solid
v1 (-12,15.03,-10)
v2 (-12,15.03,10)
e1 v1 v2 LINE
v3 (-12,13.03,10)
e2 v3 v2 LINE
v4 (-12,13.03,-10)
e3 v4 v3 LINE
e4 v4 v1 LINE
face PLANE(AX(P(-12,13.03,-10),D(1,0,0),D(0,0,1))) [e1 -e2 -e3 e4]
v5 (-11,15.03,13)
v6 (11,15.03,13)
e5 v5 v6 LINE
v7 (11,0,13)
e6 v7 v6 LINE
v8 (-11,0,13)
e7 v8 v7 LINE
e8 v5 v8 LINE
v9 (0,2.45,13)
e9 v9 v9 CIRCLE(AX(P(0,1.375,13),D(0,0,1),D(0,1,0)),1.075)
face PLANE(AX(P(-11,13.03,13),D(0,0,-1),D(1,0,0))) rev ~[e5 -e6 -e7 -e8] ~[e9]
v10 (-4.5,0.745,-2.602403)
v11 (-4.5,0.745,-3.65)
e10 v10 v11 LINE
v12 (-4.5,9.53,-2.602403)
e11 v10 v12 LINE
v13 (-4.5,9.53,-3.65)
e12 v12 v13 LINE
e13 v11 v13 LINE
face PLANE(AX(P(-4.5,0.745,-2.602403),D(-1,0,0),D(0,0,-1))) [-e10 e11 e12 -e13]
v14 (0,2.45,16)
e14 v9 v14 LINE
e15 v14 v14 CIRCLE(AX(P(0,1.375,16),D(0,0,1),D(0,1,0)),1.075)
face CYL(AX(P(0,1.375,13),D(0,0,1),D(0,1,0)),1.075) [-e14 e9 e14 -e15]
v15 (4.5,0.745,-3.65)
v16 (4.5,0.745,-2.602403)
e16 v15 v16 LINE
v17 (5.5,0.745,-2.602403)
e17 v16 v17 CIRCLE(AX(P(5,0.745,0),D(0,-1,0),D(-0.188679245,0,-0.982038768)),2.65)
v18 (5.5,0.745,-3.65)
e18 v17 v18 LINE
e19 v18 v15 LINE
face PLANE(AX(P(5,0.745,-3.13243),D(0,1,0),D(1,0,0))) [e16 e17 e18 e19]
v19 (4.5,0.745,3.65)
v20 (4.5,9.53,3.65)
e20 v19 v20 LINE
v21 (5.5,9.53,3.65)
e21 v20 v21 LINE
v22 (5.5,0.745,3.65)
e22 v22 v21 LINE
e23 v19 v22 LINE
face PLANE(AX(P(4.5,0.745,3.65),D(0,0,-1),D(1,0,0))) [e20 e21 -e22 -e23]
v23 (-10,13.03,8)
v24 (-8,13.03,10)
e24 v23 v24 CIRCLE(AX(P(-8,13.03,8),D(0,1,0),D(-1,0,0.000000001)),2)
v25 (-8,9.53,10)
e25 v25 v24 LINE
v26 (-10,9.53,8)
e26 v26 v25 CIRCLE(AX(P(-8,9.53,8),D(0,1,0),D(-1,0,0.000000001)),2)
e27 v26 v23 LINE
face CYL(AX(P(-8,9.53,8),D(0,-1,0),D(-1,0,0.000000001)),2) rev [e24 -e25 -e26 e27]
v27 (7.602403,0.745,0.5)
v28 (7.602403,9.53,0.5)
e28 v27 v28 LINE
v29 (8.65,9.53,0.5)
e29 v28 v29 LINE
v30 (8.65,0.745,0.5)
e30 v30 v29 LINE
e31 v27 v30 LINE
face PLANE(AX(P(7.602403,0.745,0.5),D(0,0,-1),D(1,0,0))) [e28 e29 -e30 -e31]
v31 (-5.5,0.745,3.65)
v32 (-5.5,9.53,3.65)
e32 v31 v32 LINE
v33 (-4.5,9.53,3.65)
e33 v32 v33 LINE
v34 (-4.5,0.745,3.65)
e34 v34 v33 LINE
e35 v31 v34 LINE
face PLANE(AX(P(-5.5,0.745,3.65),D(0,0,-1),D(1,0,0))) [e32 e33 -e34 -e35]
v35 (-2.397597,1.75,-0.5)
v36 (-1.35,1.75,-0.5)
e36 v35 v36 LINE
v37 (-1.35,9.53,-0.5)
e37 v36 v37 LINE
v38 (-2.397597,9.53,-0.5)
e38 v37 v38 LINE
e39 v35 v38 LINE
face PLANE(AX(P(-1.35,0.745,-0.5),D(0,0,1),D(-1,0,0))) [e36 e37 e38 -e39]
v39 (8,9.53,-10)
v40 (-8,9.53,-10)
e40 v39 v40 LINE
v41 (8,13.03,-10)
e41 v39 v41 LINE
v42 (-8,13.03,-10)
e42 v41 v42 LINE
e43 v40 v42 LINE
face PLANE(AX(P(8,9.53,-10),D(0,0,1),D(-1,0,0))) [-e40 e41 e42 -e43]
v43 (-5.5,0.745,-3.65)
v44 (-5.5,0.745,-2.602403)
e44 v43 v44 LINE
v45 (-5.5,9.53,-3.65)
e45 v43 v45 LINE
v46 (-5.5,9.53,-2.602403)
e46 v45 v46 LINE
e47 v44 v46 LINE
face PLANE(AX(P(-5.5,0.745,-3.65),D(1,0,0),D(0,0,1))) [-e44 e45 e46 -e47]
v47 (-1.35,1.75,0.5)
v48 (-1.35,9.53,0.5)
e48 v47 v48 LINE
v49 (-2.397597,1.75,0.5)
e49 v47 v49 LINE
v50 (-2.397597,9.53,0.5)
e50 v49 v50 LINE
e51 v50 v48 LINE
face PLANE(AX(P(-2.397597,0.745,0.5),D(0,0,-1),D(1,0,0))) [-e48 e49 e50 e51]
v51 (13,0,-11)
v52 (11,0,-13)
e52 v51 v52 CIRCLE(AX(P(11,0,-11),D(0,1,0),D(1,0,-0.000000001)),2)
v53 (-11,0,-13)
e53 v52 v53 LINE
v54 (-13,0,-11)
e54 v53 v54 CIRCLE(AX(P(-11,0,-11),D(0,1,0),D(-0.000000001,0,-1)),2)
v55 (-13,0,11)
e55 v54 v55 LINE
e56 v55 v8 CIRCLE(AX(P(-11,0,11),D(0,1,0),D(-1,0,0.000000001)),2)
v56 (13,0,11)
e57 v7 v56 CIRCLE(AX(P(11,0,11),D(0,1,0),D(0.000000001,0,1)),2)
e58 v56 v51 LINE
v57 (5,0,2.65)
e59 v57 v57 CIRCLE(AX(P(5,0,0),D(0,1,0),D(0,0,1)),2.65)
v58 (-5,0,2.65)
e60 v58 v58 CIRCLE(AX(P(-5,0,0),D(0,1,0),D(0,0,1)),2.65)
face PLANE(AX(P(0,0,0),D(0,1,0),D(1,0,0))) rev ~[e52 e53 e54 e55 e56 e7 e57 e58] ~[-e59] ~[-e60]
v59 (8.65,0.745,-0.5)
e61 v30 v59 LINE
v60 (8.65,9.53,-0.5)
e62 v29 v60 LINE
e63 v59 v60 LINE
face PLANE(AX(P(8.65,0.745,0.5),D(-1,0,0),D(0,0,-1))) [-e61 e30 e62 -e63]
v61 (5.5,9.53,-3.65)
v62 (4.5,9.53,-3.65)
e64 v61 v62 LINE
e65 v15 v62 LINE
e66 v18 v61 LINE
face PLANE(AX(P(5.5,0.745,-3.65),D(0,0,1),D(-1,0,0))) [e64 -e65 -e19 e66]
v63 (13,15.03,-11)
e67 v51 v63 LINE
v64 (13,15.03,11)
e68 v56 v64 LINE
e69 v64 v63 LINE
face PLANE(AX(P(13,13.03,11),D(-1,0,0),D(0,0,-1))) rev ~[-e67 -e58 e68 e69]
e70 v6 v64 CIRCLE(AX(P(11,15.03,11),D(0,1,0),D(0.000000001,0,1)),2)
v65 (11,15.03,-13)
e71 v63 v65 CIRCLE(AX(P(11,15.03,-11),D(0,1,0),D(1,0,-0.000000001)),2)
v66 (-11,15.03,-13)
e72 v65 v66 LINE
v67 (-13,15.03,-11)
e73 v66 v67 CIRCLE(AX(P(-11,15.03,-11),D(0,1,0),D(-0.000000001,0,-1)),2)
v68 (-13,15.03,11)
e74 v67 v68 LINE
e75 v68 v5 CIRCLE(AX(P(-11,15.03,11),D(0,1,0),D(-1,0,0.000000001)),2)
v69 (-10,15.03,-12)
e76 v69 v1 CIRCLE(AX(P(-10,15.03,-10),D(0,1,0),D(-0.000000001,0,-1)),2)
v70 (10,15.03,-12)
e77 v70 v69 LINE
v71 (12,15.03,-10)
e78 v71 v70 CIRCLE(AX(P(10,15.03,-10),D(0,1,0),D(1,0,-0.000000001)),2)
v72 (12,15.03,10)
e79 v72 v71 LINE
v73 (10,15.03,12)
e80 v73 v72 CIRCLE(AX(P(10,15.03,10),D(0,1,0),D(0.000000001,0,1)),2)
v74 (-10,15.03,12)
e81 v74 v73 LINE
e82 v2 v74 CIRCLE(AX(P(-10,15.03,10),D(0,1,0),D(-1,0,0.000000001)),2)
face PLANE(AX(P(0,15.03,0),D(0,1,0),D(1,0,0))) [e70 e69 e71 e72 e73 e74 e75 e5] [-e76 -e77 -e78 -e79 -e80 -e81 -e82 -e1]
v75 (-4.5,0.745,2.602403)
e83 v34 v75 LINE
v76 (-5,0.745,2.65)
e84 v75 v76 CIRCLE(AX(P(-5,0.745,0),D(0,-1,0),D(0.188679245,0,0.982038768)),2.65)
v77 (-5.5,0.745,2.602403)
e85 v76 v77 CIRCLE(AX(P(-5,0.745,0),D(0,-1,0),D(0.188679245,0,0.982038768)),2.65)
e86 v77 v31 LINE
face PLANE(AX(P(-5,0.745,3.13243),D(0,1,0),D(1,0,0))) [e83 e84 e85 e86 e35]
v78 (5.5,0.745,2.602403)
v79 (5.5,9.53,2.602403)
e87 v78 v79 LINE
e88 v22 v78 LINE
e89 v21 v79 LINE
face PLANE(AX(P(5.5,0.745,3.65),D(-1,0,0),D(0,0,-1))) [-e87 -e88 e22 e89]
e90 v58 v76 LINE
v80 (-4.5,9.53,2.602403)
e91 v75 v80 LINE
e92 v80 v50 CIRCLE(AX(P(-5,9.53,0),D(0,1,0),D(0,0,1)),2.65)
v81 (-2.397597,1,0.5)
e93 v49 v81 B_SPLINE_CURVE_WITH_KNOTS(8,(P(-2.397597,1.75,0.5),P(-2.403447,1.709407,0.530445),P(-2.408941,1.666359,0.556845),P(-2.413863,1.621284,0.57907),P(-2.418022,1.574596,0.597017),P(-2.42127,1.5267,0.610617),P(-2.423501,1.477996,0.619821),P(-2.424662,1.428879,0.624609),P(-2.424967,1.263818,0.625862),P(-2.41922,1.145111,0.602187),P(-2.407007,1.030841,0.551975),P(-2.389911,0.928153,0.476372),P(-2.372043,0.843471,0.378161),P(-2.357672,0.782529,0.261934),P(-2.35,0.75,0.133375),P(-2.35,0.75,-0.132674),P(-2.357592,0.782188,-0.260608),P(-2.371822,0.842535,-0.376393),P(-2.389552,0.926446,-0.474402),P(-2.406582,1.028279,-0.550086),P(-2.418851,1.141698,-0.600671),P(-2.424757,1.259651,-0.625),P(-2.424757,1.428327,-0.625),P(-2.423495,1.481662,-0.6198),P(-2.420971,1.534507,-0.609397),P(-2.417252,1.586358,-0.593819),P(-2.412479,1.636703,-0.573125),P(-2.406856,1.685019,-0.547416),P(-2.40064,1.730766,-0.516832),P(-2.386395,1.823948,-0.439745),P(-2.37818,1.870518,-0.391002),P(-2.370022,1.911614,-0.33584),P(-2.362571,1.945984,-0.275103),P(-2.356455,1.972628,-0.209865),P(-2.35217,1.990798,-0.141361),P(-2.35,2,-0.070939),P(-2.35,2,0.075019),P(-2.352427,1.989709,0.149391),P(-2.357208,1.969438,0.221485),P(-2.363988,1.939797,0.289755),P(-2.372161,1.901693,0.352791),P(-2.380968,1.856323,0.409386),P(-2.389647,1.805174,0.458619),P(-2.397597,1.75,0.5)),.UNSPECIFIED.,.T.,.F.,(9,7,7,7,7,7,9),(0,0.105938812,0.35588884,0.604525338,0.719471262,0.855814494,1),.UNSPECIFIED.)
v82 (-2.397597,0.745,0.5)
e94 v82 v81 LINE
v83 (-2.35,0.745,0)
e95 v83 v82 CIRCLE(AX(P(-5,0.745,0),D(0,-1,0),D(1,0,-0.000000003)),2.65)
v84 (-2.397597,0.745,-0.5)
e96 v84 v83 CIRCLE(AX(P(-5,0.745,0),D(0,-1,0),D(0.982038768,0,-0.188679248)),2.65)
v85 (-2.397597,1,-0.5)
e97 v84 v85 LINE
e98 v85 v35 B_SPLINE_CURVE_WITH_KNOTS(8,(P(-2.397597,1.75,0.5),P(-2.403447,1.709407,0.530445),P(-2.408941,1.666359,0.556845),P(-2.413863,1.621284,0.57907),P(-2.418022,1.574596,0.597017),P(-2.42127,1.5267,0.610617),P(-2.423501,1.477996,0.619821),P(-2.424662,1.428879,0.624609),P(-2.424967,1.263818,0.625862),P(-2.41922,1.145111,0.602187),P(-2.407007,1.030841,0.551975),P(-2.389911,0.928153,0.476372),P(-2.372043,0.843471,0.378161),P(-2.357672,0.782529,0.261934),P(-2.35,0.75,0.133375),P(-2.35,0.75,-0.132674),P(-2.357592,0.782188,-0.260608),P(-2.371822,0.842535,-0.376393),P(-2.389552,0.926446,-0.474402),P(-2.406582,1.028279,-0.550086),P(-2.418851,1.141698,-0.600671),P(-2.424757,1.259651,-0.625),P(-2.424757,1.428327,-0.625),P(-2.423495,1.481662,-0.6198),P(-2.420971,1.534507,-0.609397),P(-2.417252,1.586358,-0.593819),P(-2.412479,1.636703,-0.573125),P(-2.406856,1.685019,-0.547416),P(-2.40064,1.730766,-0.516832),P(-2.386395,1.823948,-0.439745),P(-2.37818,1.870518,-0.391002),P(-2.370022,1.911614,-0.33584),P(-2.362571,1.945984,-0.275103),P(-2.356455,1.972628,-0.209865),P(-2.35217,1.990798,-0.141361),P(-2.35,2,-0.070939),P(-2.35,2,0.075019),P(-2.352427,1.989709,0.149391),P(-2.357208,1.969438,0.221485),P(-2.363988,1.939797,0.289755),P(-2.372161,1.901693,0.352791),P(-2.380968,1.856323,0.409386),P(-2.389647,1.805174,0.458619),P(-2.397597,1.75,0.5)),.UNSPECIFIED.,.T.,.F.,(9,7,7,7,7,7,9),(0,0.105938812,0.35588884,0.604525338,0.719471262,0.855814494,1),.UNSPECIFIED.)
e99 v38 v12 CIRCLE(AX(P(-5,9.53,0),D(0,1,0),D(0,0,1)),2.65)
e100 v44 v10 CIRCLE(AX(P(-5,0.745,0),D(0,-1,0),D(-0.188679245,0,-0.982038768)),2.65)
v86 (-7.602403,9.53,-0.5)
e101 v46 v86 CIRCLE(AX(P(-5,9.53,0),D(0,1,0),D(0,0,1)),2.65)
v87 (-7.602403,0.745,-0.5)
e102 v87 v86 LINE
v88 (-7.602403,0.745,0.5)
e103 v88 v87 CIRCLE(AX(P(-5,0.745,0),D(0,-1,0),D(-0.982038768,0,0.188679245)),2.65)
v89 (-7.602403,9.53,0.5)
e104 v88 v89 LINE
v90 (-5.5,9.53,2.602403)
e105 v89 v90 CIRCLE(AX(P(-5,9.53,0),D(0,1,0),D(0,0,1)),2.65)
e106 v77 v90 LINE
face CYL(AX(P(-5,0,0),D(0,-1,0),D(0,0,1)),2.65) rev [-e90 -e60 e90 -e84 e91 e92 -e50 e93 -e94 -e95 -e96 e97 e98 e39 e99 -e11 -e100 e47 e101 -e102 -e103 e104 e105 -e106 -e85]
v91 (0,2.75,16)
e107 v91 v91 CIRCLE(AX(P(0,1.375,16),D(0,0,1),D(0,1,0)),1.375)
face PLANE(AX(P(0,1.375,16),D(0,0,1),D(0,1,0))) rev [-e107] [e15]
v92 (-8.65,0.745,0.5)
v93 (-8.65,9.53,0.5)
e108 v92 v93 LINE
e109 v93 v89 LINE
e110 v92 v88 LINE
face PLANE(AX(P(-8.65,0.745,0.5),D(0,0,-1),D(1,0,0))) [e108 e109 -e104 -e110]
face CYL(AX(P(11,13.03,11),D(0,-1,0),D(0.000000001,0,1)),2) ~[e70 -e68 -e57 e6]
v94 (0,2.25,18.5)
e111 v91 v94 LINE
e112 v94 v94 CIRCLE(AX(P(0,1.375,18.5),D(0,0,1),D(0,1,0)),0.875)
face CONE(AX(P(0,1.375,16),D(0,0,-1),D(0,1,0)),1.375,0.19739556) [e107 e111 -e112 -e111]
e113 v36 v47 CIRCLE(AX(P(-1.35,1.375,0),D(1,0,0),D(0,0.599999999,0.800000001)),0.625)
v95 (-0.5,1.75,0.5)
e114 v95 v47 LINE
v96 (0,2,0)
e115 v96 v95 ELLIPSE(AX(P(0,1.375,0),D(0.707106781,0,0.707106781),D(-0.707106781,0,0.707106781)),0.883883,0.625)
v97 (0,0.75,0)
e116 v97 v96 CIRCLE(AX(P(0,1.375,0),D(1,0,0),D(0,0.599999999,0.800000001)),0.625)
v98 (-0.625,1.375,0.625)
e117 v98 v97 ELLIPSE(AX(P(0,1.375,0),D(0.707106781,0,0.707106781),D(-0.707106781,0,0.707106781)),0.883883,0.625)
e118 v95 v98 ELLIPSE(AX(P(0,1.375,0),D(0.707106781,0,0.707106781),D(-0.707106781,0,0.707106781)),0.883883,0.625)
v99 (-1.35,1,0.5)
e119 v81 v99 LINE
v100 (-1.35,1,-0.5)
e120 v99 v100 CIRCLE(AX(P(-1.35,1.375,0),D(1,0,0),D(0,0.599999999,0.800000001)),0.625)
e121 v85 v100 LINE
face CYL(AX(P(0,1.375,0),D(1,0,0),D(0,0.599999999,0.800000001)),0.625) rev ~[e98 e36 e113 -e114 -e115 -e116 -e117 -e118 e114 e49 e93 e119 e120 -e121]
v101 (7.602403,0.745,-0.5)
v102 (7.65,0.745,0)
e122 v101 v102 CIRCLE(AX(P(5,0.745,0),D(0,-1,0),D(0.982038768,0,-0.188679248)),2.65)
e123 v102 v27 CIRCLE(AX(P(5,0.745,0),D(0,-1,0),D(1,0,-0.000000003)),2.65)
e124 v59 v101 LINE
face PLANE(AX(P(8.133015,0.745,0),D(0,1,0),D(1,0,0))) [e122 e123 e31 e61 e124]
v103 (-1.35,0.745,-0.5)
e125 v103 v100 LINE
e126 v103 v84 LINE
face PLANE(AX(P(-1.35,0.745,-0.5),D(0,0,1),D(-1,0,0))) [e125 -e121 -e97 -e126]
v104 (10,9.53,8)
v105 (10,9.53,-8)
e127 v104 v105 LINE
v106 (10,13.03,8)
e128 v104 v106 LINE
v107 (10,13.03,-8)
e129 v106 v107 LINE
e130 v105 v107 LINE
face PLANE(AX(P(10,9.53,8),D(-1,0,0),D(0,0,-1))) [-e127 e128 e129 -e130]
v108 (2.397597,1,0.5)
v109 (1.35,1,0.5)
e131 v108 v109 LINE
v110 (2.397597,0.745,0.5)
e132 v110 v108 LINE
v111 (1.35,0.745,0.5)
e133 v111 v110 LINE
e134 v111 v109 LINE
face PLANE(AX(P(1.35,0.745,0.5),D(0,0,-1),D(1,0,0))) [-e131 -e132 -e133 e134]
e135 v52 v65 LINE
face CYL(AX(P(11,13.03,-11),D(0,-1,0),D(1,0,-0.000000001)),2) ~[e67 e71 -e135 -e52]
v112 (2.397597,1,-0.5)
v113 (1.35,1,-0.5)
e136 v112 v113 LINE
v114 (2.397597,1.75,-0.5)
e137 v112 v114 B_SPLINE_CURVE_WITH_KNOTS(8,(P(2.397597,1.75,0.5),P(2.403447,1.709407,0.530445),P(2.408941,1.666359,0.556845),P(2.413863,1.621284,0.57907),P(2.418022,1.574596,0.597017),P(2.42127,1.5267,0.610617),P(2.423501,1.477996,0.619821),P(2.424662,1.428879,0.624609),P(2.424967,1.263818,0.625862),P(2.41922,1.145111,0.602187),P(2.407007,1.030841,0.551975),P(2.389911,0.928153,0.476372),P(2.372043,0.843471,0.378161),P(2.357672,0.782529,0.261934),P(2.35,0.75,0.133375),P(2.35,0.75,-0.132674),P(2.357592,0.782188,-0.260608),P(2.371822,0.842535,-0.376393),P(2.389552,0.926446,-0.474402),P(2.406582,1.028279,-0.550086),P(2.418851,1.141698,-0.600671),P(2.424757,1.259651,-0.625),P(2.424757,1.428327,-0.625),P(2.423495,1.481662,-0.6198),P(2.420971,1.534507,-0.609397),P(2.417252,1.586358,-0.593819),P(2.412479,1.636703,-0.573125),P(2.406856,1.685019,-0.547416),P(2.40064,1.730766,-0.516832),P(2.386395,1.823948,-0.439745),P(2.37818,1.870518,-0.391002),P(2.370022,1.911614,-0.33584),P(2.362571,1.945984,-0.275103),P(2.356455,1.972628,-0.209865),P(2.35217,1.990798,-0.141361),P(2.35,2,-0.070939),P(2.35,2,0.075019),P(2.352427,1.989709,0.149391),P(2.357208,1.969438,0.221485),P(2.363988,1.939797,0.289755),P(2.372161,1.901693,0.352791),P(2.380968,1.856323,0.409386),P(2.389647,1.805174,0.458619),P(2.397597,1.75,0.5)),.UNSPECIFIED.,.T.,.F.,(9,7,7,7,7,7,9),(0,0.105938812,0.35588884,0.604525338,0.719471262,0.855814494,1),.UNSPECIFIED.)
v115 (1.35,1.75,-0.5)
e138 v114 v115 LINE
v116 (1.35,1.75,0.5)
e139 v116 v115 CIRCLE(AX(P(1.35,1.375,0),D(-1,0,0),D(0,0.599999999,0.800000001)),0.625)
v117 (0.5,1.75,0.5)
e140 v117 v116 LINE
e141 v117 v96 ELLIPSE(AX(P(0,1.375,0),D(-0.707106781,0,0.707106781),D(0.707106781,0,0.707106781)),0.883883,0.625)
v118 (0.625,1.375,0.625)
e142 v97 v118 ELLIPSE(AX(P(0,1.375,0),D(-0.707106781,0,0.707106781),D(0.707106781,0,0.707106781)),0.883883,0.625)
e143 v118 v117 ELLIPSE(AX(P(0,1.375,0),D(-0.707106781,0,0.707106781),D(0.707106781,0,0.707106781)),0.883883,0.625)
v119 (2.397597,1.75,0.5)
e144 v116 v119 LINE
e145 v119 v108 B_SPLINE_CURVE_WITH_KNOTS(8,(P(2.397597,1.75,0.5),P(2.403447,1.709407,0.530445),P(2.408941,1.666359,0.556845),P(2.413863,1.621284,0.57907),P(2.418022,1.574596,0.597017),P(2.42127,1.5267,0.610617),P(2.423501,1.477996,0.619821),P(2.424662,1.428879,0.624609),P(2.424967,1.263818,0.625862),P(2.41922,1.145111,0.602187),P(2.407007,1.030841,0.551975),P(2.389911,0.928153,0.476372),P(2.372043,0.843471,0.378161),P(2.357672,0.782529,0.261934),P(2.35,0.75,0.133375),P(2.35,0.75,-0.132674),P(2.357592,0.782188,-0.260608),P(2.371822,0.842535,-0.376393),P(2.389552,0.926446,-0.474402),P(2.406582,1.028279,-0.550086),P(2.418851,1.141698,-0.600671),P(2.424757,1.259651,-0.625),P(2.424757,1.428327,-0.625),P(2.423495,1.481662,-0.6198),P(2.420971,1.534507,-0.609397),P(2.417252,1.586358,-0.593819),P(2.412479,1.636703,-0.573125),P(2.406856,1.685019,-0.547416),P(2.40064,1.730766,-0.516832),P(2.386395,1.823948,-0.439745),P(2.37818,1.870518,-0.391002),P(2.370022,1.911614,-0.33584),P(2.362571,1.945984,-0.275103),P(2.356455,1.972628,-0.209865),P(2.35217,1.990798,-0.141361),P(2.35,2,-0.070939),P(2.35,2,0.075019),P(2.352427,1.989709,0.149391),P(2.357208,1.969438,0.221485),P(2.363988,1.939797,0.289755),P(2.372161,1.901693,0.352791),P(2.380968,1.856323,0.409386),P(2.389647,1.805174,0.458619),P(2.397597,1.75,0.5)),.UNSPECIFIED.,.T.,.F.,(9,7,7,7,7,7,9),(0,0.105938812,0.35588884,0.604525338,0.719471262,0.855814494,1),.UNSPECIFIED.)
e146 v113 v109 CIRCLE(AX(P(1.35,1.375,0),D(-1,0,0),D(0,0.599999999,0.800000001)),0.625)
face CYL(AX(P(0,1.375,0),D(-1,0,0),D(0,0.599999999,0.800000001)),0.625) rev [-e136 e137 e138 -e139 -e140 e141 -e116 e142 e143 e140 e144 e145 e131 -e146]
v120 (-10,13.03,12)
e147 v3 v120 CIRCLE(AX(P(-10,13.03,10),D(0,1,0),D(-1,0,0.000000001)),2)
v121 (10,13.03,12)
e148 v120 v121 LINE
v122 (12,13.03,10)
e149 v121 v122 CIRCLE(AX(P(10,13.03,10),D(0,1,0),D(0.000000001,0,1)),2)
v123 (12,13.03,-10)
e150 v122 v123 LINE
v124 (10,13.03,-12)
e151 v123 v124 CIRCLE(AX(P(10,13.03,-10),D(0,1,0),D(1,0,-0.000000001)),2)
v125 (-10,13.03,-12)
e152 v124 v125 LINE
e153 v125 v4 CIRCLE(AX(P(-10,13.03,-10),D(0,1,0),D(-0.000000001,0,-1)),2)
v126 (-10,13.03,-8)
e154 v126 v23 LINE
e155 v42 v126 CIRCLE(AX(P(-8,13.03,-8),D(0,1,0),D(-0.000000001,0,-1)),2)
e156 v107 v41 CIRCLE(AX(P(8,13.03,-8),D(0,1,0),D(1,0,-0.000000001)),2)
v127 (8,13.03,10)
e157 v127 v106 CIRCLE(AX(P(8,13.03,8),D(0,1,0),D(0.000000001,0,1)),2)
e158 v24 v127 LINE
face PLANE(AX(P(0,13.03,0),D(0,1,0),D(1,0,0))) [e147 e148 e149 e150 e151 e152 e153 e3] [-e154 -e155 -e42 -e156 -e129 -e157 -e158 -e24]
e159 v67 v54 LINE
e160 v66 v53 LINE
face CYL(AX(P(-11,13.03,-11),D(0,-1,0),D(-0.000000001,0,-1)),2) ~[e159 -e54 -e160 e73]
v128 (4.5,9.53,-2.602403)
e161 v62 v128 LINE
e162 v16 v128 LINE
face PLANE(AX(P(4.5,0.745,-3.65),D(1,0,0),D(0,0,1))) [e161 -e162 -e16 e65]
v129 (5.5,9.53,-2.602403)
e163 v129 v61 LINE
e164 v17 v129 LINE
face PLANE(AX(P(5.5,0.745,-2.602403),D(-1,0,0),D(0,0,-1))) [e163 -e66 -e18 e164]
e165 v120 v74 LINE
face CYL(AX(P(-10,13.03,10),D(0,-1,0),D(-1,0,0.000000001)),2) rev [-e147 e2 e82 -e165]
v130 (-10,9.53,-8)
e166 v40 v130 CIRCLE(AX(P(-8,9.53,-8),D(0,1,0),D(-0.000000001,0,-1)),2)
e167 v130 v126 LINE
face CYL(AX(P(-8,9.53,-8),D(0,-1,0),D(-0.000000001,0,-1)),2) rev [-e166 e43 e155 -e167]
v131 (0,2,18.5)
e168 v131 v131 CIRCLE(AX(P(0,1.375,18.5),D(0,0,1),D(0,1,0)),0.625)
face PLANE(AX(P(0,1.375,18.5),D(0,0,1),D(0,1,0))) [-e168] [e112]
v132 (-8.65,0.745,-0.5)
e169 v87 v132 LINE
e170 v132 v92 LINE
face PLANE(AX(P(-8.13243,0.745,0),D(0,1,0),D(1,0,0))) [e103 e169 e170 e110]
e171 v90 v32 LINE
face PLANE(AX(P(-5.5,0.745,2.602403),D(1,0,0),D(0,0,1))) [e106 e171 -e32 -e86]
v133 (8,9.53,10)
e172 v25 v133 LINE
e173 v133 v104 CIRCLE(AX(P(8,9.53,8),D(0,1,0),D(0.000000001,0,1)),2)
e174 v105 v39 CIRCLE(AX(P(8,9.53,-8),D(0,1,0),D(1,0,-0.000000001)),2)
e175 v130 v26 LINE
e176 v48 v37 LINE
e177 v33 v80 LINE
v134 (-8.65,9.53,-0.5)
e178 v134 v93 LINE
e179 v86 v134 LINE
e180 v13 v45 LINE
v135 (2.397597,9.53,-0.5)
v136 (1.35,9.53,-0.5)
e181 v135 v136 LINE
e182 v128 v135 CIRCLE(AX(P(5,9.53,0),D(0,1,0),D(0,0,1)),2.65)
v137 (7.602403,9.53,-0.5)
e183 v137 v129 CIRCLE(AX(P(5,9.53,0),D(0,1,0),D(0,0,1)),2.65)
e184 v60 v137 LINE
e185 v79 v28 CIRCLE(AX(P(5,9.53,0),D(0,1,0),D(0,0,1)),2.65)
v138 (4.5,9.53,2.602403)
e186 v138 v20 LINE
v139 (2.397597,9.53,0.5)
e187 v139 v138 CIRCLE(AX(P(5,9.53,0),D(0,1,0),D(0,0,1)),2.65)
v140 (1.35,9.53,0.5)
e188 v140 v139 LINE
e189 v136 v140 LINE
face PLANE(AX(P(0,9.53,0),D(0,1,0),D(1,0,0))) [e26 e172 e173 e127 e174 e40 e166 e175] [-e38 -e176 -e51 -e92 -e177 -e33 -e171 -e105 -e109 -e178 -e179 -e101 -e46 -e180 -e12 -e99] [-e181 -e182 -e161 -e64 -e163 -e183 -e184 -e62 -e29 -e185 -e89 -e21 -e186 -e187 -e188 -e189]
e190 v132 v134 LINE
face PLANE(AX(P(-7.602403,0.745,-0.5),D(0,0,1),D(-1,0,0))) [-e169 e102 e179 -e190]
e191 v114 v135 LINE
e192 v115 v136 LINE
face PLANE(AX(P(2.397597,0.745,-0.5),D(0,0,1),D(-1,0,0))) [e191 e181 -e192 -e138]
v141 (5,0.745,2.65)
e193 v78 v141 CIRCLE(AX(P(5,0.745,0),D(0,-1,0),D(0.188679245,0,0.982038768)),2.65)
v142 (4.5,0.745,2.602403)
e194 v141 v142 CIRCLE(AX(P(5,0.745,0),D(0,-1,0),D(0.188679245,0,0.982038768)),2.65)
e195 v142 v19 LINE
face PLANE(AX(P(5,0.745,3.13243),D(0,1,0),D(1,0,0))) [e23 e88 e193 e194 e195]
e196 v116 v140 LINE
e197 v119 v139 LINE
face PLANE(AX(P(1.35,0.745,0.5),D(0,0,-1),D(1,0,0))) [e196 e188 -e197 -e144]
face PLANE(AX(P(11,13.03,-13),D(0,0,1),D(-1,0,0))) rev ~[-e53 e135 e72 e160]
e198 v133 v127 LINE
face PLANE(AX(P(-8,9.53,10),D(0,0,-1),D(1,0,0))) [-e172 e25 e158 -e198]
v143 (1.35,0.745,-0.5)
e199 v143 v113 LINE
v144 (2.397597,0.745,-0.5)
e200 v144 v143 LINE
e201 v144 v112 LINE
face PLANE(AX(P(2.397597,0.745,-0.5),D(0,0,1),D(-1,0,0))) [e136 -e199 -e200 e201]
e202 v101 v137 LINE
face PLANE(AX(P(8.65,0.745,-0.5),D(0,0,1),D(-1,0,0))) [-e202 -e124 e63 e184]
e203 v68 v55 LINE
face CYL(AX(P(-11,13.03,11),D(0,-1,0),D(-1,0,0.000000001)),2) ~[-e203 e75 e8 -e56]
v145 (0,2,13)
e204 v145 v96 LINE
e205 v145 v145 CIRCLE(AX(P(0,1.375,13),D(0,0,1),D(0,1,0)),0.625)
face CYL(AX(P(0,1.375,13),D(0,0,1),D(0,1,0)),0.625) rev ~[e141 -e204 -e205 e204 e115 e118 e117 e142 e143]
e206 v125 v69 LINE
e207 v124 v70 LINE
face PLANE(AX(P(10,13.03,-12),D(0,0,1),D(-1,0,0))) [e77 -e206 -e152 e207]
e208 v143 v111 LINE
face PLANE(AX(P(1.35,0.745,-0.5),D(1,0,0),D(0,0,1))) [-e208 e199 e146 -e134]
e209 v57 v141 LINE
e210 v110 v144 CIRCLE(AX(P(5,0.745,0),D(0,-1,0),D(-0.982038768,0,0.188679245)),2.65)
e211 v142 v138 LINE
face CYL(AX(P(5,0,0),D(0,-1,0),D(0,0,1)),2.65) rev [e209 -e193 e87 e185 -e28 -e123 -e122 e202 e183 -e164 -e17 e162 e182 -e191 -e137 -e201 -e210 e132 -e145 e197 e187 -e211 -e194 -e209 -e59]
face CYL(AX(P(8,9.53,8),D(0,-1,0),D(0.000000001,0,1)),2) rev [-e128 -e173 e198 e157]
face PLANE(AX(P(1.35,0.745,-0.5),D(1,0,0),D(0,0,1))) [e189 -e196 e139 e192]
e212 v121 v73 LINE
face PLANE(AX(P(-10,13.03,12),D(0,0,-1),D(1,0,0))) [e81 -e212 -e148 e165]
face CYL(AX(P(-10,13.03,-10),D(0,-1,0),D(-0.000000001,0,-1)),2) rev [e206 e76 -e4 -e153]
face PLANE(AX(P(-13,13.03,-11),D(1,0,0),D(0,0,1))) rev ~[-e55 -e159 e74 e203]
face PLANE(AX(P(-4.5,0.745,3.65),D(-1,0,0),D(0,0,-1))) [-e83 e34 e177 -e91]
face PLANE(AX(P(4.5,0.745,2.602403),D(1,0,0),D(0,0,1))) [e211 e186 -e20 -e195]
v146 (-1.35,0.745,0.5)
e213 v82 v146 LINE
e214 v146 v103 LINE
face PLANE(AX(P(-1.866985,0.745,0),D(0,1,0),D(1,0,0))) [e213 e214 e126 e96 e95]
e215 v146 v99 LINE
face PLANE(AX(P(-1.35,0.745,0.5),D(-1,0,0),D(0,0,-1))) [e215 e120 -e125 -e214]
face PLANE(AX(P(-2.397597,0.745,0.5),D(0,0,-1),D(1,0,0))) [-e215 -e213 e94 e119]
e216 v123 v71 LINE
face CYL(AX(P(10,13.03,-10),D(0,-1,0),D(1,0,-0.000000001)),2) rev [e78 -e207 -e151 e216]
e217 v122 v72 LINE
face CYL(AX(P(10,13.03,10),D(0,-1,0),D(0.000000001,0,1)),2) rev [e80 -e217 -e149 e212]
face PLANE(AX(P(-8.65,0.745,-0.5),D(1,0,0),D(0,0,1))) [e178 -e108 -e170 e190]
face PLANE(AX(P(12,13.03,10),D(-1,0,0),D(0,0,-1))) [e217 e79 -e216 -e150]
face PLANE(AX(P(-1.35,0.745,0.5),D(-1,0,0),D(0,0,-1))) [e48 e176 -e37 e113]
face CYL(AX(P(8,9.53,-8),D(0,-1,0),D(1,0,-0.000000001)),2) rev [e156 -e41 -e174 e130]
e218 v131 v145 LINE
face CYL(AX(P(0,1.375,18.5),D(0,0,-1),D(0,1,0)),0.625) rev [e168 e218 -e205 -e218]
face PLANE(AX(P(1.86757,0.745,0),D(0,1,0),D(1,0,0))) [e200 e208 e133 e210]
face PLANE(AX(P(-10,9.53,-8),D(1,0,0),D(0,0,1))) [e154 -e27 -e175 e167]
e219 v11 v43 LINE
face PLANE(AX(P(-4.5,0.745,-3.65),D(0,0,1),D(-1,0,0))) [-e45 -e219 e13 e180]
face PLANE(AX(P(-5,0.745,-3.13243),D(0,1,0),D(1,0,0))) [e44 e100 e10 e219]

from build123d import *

# Parameters (mm, degrees)
SKETCH1_R                      = 2.65
BOSS_EXTRUDE1_DEPTH            = 9.53
CUT_EXTRUDE1_START             = -8.785
CUT_EXTRUDE1_DEPTH             = 8.785
CUT_EXTRUDE3_REACH             = 26.537
SKETCH10_R                     = 0.625
CUT_EXTRUDE3_DIRECTION_2_REACH = 26.537
CUT_EXTRUDE2_REACH             = 32.591
SKETCH5_R                      = 0.625
BOSS_EXTRUDE2_DEPTH            = 3.5
BOSS_EXTRUDE3_DEPTH            = 2


with BuildPart() as part:
    # Sketch1 → Boss-Extrude1 (new body)
    with BuildSketch(Plane(origin=(0, 0, 0), x_dir=(1, 0, 0), z_dir=(0, 1, 0))):
        with BuildLine():
            Line((-11, -13), (11, -13))
            ThreePointArc((11, -13), (12.414213562, -12.414213562), (13, -11))
            Line((13, -11), (13, 11))
            ThreePointArc((13, 11), (12.414213562, 12.414213562), (11, 13))
            Line((11, 13), (-11, 13))
            ThreePointArc((-11, 13), (-12.414213562, 12.414213562), (-13, 11))
            Line((-13, 11), (-13, -11))
            ThreePointArc((-13, -11), (-12.414213562, -12.414213562), (-11, -13))
        make_face()
        with Locations(Location((5, 0, 0), (0, 0, 270))):
            Circle(SKETCH1_R, mode=Mode.SUBTRACT)
        with Locations(Location((-5, 0, 0), (0, 0, 270))):
            Circle(SKETCH1_R, mode=Mode.SUBTRACT)
    extrude(amount=BOSS_EXTRUDE1_DEPTH)

    # Sketch2 → Cut-Extrude1 (cut)
    with BuildSketch(Plane(origin=(0, 9.53, 0), x_dir=(1, 0, 0), z_dir=(0, 1, 0)).offset(CUT_EXTRUDE1_START)):
        with BuildLine():
            Line((4.5, 3.65), (4.5, 2.602402736))
            ThreePointArc((4.5, 2.602402736), (5, 2.65), (5.5, 2.602402736))
            Line((5.5, 2.602402736), (5.5, 3.65))
            Line((5.5, 3.65), (4.5, 3.65))
        make_face()
        with BuildLine():
            ThreePointArc((7.65, 0), (7.638073848, -0.251130195), (7.602402736, -0.5))
            Line((7.602402736, -0.5), (8.65, -0.5))
            Line((8.65, -0.5), (8.65, 0.5))
            Line((8.65, 0.5), (7.602402736, 0.5))
            ThreePointArc((7.602402736, 0.5), (7.638073848, 0.251130195), (7.65, 0))
        make_face()
        with BuildLine():
            Line((4.5, -2.602402736), (4.5, -3.65))
            Line((4.5, -3.65), (5.5, -3.65))
            Line((5.5, -3.65), (5.5, -2.602402736))
            ThreePointArc((5.5, -2.602402736), (5, -2.65), (4.5, -2.602402736))
        make_face()
        with BuildLine():
            Line((1.35, -0.5), (2.397597264, -0.5))
            ThreePointArc((2.397597264, -0.5), (2.35, 0), (2.397597264, 0.5))
            Line((2.397597264, 0.5), (1.35, 0.5))
            Line((1.35, 0.5), (1.35, -0.5))
        make_face()
        with BuildLine():
            ThreePointArc((-2.35, 0), (-2.361926152, -0.251130195), (-2.397597264, -0.5))
            Line((-2.397597264, -0.5), (-1.35, -0.5))
            Line((-1.35, -0.5), (-1.35, 0.5))
            Line((-1.35, 0.5), (-2.397597264, 0.5))
            ThreePointArc((-2.397597264, 0.5), (-2.361926152, 0.251130195), (-2.35, 0))
        make_face()
        with BuildLine():
            Line((-5.5, 3.65), (-5.5, 2.602402736))
            ThreePointArc((-5.5, 2.602402736), (-5, 2.65), (-4.5, 2.602402736))
            Line((-4.5, 2.602402736), (-4.5, 3.65))
            Line((-4.5, 3.65), (-5.5, 3.65))
        make_face()
        with BuildLine():
            Line((-8.65, 0.5), (-8.65, -0.5))
            Line((-8.65, -0.5), (-7.602402736, -0.5))
            ThreePointArc((-7.602402736, -0.5), (-7.65, 0), (-7.602402736, 0.5))
            Line((-7.602402736, 0.5), (-8.65, 0.5))
        make_face()
        with BuildLine():
            ThreePointArc((-4.5, -2.602402736), (-5, -2.65), (-5.5, -2.602402736))
            Line((-5.5, -2.602402736), (-5.5, -3.65))
            Line((-5.5, -3.65), (-4.5, -3.65))
            Line((-4.5, -3.65), (-4.5, -2.602402736))
        make_face()
    extrude(amount=CUT_EXTRUDE1_DEPTH, mode=Mode.SUBTRACT)

    # Sketch3 → Revolve1 (revolve)
    with BuildSketch(Plane(origin=(0, 0, 0), x_dir=(0, 0, -1), z_dir=(1, 0, 0)), mode=Mode.PRIVATE) as revolve1_sk:
        Polygon((-13, 0.3), (-16, 0.3), (-16, 0), (-18.5, 0.5), (-18.5, 0.75), (-13, 0.75), align=None)
    revolve(revolve1_sk.sketch.rotate(Axis((0, 1.375, 13), (0, 0, 1)), 180), axis=Axis((0, 1.375, 13), (0, 0, 1)))

    # Sketch10 → Cut-Extrude3 (cut, up to next)
    with BuildSketch(Plane(origin=(0, 0, 0), x_dir=(0, 0, -1), z_dir=(1, 0, 0)), mode=Mode.PRIVATE) as cut_extrude3_sk1:
        with Locations(Location((0, 1.375, 0), (0, 0, 143.130102406))):
            Circle(SKETCH10_R)
    cut_extrude3_tool1 = extrude(cut_extrude3_sk1.sketch, amount=-CUT_EXTRUDE3_REACH, mode=Mode.PRIVATE) & part.part
    add(cut_extrude3_tool1.solids().sort_by_distance((0, 1.375, 0))[0], mode=Mode.SUBTRACT)

    # Sketch10 → Cut-Extrude3 direction 2 (cut, up to next)
    with BuildSketch(Plane(origin=(0, 0, 0), x_dir=(0, 0, -1), z_dir=(1, 0, 0)), mode=Mode.PRIVATE) as cut_extrude3_direction_2_sk1:
        with Locations(Location((0, 1.375, 0), (0, 0, 143.130102406))):
            Circle(SKETCH10_R)
    cut_extrude3_direction_2_tool1 = extrude(cut_extrude3_direction_2_sk1.sketch, amount=CUT_EXTRUDE3_DIRECTION_2_REACH, mode=Mode.PRIVATE) & part.part
    add(cut_extrude3_direction_2_tool1.solids().sort_by_distance((0, 1.375, 0))[0], mode=Mode.SUBTRACT)

    # Sketch5 → Cut-Extrude2 (cut, up to next)
    with BuildSketch(Plane.XY.offset(13), mode=Mode.PRIVATE) as cut_extrude2_sk1:
        with Locations(Location((0, 1.375, 0), (0, 0, 90))):
            Circle(SKETCH5_R)
    cut_extrude2_tool1 = extrude(cut_extrude2_sk1.sketch, amount=-CUT_EXTRUDE2_REACH, mode=Mode.PRIVATE) & part.part
    add(cut_extrude2_tool1.solids().sort_by_distance((0, 1.375, 13))[0], mode=Mode.SUBTRACT)

    # Sketch6 → Boss-Extrude2 (add)
    with BuildSketch(Plane(origin=(0, 9.53, 0), x_dir=(1, 0, 0), z_dir=(0, 1, 0))):
        with BuildLine():
            Line((-11, -13), (11, -13))
            ThreePointArc((11, -13), (12.414213562, -12.414213562), (13, -11))
            Line((13, -11), (13, 11))
            ThreePointArc((13, 11), (12.414213562, 12.414213562), (11, 13))
            Line((11, 13), (-11, 13))
            ThreePointArc((-11, 13), (-12.414213562, 12.414213562), (-13, 11))
            Line((-13, 11), (-13, -11))
            ThreePointArc((-13, -11), (-12.414213562, -12.414213562), (-11, -13))
        make_face()
        with BuildLine():
            Line((-8, -10), (8, -10))
            ThreePointArc((8, -10), (9.414213562, -9.414213562), (10, -8))
            Line((10, -8), (10, 8))
            ThreePointArc((10, 8), (9.414213562, 9.414213562), (8, 10))
            Line((8, 10), (-8, 10))
            ThreePointArc((-8, 10), (-9.414213562, 9.414213562), (-10, 8))
            Line((-10, 8), (-10, -8))
            ThreePointArc((-10, -8), (-9.414213562, -9.414213562), (-8, -10))
        make_face(mode=Mode.SUBTRACT)
    extrude(amount=BOSS_EXTRUDE2_DEPTH)

    # Sketch8 → Boss-Extrude3 (add)
    with BuildSketch(Plane(origin=(0, 13.03, 0), x_dir=(1, 0, 0), z_dir=(0, 1, 0))):
        with BuildLine():
            Line((-11, -13), (11, -13))
            ThreePointArc((11, -13), (12.414213562, -12.414213562), (13, -11))
            Line((13, -11), (13, 11))
            ThreePointArc((13, 11), (12.414213562, 12.414213562), (11, 13))
            Line((11, 13), (-11, 13))
            ThreePointArc((-11, 13), (-12.414213562, 12.414213562), (-13, 11))
            Line((-13, 11), (-13, -11))
            ThreePointArc((-13, -11), (-12.414213562, -12.414213562), (-11, -13))
        make_face()
        with BuildLine():
            Line((-10, -12), (10, -12))
            ThreePointArc((10, -12), (11.414213562, -11.414213562), (12, -10))
            Line((12, -10), (12, 10))
            ThreePointArc((12, 10), (11.414213562, 11.414213562), (10, 12))
            Line((10, 12), (-10, 12))
            ThreePointArc((-10, 12), (-11.414213562, 11.414213562), (-12, 10))
            Line((-12, 10), (-12, -10))
            ThreePointArc((-12, -10), (-11.414213562, -11.414213562), (-10, -12))
        make_face(mode=Mode.SUBTRACT)
    extrude(amount=BOSS_EXTRUDE3_DEPTH)


solid = part.part
